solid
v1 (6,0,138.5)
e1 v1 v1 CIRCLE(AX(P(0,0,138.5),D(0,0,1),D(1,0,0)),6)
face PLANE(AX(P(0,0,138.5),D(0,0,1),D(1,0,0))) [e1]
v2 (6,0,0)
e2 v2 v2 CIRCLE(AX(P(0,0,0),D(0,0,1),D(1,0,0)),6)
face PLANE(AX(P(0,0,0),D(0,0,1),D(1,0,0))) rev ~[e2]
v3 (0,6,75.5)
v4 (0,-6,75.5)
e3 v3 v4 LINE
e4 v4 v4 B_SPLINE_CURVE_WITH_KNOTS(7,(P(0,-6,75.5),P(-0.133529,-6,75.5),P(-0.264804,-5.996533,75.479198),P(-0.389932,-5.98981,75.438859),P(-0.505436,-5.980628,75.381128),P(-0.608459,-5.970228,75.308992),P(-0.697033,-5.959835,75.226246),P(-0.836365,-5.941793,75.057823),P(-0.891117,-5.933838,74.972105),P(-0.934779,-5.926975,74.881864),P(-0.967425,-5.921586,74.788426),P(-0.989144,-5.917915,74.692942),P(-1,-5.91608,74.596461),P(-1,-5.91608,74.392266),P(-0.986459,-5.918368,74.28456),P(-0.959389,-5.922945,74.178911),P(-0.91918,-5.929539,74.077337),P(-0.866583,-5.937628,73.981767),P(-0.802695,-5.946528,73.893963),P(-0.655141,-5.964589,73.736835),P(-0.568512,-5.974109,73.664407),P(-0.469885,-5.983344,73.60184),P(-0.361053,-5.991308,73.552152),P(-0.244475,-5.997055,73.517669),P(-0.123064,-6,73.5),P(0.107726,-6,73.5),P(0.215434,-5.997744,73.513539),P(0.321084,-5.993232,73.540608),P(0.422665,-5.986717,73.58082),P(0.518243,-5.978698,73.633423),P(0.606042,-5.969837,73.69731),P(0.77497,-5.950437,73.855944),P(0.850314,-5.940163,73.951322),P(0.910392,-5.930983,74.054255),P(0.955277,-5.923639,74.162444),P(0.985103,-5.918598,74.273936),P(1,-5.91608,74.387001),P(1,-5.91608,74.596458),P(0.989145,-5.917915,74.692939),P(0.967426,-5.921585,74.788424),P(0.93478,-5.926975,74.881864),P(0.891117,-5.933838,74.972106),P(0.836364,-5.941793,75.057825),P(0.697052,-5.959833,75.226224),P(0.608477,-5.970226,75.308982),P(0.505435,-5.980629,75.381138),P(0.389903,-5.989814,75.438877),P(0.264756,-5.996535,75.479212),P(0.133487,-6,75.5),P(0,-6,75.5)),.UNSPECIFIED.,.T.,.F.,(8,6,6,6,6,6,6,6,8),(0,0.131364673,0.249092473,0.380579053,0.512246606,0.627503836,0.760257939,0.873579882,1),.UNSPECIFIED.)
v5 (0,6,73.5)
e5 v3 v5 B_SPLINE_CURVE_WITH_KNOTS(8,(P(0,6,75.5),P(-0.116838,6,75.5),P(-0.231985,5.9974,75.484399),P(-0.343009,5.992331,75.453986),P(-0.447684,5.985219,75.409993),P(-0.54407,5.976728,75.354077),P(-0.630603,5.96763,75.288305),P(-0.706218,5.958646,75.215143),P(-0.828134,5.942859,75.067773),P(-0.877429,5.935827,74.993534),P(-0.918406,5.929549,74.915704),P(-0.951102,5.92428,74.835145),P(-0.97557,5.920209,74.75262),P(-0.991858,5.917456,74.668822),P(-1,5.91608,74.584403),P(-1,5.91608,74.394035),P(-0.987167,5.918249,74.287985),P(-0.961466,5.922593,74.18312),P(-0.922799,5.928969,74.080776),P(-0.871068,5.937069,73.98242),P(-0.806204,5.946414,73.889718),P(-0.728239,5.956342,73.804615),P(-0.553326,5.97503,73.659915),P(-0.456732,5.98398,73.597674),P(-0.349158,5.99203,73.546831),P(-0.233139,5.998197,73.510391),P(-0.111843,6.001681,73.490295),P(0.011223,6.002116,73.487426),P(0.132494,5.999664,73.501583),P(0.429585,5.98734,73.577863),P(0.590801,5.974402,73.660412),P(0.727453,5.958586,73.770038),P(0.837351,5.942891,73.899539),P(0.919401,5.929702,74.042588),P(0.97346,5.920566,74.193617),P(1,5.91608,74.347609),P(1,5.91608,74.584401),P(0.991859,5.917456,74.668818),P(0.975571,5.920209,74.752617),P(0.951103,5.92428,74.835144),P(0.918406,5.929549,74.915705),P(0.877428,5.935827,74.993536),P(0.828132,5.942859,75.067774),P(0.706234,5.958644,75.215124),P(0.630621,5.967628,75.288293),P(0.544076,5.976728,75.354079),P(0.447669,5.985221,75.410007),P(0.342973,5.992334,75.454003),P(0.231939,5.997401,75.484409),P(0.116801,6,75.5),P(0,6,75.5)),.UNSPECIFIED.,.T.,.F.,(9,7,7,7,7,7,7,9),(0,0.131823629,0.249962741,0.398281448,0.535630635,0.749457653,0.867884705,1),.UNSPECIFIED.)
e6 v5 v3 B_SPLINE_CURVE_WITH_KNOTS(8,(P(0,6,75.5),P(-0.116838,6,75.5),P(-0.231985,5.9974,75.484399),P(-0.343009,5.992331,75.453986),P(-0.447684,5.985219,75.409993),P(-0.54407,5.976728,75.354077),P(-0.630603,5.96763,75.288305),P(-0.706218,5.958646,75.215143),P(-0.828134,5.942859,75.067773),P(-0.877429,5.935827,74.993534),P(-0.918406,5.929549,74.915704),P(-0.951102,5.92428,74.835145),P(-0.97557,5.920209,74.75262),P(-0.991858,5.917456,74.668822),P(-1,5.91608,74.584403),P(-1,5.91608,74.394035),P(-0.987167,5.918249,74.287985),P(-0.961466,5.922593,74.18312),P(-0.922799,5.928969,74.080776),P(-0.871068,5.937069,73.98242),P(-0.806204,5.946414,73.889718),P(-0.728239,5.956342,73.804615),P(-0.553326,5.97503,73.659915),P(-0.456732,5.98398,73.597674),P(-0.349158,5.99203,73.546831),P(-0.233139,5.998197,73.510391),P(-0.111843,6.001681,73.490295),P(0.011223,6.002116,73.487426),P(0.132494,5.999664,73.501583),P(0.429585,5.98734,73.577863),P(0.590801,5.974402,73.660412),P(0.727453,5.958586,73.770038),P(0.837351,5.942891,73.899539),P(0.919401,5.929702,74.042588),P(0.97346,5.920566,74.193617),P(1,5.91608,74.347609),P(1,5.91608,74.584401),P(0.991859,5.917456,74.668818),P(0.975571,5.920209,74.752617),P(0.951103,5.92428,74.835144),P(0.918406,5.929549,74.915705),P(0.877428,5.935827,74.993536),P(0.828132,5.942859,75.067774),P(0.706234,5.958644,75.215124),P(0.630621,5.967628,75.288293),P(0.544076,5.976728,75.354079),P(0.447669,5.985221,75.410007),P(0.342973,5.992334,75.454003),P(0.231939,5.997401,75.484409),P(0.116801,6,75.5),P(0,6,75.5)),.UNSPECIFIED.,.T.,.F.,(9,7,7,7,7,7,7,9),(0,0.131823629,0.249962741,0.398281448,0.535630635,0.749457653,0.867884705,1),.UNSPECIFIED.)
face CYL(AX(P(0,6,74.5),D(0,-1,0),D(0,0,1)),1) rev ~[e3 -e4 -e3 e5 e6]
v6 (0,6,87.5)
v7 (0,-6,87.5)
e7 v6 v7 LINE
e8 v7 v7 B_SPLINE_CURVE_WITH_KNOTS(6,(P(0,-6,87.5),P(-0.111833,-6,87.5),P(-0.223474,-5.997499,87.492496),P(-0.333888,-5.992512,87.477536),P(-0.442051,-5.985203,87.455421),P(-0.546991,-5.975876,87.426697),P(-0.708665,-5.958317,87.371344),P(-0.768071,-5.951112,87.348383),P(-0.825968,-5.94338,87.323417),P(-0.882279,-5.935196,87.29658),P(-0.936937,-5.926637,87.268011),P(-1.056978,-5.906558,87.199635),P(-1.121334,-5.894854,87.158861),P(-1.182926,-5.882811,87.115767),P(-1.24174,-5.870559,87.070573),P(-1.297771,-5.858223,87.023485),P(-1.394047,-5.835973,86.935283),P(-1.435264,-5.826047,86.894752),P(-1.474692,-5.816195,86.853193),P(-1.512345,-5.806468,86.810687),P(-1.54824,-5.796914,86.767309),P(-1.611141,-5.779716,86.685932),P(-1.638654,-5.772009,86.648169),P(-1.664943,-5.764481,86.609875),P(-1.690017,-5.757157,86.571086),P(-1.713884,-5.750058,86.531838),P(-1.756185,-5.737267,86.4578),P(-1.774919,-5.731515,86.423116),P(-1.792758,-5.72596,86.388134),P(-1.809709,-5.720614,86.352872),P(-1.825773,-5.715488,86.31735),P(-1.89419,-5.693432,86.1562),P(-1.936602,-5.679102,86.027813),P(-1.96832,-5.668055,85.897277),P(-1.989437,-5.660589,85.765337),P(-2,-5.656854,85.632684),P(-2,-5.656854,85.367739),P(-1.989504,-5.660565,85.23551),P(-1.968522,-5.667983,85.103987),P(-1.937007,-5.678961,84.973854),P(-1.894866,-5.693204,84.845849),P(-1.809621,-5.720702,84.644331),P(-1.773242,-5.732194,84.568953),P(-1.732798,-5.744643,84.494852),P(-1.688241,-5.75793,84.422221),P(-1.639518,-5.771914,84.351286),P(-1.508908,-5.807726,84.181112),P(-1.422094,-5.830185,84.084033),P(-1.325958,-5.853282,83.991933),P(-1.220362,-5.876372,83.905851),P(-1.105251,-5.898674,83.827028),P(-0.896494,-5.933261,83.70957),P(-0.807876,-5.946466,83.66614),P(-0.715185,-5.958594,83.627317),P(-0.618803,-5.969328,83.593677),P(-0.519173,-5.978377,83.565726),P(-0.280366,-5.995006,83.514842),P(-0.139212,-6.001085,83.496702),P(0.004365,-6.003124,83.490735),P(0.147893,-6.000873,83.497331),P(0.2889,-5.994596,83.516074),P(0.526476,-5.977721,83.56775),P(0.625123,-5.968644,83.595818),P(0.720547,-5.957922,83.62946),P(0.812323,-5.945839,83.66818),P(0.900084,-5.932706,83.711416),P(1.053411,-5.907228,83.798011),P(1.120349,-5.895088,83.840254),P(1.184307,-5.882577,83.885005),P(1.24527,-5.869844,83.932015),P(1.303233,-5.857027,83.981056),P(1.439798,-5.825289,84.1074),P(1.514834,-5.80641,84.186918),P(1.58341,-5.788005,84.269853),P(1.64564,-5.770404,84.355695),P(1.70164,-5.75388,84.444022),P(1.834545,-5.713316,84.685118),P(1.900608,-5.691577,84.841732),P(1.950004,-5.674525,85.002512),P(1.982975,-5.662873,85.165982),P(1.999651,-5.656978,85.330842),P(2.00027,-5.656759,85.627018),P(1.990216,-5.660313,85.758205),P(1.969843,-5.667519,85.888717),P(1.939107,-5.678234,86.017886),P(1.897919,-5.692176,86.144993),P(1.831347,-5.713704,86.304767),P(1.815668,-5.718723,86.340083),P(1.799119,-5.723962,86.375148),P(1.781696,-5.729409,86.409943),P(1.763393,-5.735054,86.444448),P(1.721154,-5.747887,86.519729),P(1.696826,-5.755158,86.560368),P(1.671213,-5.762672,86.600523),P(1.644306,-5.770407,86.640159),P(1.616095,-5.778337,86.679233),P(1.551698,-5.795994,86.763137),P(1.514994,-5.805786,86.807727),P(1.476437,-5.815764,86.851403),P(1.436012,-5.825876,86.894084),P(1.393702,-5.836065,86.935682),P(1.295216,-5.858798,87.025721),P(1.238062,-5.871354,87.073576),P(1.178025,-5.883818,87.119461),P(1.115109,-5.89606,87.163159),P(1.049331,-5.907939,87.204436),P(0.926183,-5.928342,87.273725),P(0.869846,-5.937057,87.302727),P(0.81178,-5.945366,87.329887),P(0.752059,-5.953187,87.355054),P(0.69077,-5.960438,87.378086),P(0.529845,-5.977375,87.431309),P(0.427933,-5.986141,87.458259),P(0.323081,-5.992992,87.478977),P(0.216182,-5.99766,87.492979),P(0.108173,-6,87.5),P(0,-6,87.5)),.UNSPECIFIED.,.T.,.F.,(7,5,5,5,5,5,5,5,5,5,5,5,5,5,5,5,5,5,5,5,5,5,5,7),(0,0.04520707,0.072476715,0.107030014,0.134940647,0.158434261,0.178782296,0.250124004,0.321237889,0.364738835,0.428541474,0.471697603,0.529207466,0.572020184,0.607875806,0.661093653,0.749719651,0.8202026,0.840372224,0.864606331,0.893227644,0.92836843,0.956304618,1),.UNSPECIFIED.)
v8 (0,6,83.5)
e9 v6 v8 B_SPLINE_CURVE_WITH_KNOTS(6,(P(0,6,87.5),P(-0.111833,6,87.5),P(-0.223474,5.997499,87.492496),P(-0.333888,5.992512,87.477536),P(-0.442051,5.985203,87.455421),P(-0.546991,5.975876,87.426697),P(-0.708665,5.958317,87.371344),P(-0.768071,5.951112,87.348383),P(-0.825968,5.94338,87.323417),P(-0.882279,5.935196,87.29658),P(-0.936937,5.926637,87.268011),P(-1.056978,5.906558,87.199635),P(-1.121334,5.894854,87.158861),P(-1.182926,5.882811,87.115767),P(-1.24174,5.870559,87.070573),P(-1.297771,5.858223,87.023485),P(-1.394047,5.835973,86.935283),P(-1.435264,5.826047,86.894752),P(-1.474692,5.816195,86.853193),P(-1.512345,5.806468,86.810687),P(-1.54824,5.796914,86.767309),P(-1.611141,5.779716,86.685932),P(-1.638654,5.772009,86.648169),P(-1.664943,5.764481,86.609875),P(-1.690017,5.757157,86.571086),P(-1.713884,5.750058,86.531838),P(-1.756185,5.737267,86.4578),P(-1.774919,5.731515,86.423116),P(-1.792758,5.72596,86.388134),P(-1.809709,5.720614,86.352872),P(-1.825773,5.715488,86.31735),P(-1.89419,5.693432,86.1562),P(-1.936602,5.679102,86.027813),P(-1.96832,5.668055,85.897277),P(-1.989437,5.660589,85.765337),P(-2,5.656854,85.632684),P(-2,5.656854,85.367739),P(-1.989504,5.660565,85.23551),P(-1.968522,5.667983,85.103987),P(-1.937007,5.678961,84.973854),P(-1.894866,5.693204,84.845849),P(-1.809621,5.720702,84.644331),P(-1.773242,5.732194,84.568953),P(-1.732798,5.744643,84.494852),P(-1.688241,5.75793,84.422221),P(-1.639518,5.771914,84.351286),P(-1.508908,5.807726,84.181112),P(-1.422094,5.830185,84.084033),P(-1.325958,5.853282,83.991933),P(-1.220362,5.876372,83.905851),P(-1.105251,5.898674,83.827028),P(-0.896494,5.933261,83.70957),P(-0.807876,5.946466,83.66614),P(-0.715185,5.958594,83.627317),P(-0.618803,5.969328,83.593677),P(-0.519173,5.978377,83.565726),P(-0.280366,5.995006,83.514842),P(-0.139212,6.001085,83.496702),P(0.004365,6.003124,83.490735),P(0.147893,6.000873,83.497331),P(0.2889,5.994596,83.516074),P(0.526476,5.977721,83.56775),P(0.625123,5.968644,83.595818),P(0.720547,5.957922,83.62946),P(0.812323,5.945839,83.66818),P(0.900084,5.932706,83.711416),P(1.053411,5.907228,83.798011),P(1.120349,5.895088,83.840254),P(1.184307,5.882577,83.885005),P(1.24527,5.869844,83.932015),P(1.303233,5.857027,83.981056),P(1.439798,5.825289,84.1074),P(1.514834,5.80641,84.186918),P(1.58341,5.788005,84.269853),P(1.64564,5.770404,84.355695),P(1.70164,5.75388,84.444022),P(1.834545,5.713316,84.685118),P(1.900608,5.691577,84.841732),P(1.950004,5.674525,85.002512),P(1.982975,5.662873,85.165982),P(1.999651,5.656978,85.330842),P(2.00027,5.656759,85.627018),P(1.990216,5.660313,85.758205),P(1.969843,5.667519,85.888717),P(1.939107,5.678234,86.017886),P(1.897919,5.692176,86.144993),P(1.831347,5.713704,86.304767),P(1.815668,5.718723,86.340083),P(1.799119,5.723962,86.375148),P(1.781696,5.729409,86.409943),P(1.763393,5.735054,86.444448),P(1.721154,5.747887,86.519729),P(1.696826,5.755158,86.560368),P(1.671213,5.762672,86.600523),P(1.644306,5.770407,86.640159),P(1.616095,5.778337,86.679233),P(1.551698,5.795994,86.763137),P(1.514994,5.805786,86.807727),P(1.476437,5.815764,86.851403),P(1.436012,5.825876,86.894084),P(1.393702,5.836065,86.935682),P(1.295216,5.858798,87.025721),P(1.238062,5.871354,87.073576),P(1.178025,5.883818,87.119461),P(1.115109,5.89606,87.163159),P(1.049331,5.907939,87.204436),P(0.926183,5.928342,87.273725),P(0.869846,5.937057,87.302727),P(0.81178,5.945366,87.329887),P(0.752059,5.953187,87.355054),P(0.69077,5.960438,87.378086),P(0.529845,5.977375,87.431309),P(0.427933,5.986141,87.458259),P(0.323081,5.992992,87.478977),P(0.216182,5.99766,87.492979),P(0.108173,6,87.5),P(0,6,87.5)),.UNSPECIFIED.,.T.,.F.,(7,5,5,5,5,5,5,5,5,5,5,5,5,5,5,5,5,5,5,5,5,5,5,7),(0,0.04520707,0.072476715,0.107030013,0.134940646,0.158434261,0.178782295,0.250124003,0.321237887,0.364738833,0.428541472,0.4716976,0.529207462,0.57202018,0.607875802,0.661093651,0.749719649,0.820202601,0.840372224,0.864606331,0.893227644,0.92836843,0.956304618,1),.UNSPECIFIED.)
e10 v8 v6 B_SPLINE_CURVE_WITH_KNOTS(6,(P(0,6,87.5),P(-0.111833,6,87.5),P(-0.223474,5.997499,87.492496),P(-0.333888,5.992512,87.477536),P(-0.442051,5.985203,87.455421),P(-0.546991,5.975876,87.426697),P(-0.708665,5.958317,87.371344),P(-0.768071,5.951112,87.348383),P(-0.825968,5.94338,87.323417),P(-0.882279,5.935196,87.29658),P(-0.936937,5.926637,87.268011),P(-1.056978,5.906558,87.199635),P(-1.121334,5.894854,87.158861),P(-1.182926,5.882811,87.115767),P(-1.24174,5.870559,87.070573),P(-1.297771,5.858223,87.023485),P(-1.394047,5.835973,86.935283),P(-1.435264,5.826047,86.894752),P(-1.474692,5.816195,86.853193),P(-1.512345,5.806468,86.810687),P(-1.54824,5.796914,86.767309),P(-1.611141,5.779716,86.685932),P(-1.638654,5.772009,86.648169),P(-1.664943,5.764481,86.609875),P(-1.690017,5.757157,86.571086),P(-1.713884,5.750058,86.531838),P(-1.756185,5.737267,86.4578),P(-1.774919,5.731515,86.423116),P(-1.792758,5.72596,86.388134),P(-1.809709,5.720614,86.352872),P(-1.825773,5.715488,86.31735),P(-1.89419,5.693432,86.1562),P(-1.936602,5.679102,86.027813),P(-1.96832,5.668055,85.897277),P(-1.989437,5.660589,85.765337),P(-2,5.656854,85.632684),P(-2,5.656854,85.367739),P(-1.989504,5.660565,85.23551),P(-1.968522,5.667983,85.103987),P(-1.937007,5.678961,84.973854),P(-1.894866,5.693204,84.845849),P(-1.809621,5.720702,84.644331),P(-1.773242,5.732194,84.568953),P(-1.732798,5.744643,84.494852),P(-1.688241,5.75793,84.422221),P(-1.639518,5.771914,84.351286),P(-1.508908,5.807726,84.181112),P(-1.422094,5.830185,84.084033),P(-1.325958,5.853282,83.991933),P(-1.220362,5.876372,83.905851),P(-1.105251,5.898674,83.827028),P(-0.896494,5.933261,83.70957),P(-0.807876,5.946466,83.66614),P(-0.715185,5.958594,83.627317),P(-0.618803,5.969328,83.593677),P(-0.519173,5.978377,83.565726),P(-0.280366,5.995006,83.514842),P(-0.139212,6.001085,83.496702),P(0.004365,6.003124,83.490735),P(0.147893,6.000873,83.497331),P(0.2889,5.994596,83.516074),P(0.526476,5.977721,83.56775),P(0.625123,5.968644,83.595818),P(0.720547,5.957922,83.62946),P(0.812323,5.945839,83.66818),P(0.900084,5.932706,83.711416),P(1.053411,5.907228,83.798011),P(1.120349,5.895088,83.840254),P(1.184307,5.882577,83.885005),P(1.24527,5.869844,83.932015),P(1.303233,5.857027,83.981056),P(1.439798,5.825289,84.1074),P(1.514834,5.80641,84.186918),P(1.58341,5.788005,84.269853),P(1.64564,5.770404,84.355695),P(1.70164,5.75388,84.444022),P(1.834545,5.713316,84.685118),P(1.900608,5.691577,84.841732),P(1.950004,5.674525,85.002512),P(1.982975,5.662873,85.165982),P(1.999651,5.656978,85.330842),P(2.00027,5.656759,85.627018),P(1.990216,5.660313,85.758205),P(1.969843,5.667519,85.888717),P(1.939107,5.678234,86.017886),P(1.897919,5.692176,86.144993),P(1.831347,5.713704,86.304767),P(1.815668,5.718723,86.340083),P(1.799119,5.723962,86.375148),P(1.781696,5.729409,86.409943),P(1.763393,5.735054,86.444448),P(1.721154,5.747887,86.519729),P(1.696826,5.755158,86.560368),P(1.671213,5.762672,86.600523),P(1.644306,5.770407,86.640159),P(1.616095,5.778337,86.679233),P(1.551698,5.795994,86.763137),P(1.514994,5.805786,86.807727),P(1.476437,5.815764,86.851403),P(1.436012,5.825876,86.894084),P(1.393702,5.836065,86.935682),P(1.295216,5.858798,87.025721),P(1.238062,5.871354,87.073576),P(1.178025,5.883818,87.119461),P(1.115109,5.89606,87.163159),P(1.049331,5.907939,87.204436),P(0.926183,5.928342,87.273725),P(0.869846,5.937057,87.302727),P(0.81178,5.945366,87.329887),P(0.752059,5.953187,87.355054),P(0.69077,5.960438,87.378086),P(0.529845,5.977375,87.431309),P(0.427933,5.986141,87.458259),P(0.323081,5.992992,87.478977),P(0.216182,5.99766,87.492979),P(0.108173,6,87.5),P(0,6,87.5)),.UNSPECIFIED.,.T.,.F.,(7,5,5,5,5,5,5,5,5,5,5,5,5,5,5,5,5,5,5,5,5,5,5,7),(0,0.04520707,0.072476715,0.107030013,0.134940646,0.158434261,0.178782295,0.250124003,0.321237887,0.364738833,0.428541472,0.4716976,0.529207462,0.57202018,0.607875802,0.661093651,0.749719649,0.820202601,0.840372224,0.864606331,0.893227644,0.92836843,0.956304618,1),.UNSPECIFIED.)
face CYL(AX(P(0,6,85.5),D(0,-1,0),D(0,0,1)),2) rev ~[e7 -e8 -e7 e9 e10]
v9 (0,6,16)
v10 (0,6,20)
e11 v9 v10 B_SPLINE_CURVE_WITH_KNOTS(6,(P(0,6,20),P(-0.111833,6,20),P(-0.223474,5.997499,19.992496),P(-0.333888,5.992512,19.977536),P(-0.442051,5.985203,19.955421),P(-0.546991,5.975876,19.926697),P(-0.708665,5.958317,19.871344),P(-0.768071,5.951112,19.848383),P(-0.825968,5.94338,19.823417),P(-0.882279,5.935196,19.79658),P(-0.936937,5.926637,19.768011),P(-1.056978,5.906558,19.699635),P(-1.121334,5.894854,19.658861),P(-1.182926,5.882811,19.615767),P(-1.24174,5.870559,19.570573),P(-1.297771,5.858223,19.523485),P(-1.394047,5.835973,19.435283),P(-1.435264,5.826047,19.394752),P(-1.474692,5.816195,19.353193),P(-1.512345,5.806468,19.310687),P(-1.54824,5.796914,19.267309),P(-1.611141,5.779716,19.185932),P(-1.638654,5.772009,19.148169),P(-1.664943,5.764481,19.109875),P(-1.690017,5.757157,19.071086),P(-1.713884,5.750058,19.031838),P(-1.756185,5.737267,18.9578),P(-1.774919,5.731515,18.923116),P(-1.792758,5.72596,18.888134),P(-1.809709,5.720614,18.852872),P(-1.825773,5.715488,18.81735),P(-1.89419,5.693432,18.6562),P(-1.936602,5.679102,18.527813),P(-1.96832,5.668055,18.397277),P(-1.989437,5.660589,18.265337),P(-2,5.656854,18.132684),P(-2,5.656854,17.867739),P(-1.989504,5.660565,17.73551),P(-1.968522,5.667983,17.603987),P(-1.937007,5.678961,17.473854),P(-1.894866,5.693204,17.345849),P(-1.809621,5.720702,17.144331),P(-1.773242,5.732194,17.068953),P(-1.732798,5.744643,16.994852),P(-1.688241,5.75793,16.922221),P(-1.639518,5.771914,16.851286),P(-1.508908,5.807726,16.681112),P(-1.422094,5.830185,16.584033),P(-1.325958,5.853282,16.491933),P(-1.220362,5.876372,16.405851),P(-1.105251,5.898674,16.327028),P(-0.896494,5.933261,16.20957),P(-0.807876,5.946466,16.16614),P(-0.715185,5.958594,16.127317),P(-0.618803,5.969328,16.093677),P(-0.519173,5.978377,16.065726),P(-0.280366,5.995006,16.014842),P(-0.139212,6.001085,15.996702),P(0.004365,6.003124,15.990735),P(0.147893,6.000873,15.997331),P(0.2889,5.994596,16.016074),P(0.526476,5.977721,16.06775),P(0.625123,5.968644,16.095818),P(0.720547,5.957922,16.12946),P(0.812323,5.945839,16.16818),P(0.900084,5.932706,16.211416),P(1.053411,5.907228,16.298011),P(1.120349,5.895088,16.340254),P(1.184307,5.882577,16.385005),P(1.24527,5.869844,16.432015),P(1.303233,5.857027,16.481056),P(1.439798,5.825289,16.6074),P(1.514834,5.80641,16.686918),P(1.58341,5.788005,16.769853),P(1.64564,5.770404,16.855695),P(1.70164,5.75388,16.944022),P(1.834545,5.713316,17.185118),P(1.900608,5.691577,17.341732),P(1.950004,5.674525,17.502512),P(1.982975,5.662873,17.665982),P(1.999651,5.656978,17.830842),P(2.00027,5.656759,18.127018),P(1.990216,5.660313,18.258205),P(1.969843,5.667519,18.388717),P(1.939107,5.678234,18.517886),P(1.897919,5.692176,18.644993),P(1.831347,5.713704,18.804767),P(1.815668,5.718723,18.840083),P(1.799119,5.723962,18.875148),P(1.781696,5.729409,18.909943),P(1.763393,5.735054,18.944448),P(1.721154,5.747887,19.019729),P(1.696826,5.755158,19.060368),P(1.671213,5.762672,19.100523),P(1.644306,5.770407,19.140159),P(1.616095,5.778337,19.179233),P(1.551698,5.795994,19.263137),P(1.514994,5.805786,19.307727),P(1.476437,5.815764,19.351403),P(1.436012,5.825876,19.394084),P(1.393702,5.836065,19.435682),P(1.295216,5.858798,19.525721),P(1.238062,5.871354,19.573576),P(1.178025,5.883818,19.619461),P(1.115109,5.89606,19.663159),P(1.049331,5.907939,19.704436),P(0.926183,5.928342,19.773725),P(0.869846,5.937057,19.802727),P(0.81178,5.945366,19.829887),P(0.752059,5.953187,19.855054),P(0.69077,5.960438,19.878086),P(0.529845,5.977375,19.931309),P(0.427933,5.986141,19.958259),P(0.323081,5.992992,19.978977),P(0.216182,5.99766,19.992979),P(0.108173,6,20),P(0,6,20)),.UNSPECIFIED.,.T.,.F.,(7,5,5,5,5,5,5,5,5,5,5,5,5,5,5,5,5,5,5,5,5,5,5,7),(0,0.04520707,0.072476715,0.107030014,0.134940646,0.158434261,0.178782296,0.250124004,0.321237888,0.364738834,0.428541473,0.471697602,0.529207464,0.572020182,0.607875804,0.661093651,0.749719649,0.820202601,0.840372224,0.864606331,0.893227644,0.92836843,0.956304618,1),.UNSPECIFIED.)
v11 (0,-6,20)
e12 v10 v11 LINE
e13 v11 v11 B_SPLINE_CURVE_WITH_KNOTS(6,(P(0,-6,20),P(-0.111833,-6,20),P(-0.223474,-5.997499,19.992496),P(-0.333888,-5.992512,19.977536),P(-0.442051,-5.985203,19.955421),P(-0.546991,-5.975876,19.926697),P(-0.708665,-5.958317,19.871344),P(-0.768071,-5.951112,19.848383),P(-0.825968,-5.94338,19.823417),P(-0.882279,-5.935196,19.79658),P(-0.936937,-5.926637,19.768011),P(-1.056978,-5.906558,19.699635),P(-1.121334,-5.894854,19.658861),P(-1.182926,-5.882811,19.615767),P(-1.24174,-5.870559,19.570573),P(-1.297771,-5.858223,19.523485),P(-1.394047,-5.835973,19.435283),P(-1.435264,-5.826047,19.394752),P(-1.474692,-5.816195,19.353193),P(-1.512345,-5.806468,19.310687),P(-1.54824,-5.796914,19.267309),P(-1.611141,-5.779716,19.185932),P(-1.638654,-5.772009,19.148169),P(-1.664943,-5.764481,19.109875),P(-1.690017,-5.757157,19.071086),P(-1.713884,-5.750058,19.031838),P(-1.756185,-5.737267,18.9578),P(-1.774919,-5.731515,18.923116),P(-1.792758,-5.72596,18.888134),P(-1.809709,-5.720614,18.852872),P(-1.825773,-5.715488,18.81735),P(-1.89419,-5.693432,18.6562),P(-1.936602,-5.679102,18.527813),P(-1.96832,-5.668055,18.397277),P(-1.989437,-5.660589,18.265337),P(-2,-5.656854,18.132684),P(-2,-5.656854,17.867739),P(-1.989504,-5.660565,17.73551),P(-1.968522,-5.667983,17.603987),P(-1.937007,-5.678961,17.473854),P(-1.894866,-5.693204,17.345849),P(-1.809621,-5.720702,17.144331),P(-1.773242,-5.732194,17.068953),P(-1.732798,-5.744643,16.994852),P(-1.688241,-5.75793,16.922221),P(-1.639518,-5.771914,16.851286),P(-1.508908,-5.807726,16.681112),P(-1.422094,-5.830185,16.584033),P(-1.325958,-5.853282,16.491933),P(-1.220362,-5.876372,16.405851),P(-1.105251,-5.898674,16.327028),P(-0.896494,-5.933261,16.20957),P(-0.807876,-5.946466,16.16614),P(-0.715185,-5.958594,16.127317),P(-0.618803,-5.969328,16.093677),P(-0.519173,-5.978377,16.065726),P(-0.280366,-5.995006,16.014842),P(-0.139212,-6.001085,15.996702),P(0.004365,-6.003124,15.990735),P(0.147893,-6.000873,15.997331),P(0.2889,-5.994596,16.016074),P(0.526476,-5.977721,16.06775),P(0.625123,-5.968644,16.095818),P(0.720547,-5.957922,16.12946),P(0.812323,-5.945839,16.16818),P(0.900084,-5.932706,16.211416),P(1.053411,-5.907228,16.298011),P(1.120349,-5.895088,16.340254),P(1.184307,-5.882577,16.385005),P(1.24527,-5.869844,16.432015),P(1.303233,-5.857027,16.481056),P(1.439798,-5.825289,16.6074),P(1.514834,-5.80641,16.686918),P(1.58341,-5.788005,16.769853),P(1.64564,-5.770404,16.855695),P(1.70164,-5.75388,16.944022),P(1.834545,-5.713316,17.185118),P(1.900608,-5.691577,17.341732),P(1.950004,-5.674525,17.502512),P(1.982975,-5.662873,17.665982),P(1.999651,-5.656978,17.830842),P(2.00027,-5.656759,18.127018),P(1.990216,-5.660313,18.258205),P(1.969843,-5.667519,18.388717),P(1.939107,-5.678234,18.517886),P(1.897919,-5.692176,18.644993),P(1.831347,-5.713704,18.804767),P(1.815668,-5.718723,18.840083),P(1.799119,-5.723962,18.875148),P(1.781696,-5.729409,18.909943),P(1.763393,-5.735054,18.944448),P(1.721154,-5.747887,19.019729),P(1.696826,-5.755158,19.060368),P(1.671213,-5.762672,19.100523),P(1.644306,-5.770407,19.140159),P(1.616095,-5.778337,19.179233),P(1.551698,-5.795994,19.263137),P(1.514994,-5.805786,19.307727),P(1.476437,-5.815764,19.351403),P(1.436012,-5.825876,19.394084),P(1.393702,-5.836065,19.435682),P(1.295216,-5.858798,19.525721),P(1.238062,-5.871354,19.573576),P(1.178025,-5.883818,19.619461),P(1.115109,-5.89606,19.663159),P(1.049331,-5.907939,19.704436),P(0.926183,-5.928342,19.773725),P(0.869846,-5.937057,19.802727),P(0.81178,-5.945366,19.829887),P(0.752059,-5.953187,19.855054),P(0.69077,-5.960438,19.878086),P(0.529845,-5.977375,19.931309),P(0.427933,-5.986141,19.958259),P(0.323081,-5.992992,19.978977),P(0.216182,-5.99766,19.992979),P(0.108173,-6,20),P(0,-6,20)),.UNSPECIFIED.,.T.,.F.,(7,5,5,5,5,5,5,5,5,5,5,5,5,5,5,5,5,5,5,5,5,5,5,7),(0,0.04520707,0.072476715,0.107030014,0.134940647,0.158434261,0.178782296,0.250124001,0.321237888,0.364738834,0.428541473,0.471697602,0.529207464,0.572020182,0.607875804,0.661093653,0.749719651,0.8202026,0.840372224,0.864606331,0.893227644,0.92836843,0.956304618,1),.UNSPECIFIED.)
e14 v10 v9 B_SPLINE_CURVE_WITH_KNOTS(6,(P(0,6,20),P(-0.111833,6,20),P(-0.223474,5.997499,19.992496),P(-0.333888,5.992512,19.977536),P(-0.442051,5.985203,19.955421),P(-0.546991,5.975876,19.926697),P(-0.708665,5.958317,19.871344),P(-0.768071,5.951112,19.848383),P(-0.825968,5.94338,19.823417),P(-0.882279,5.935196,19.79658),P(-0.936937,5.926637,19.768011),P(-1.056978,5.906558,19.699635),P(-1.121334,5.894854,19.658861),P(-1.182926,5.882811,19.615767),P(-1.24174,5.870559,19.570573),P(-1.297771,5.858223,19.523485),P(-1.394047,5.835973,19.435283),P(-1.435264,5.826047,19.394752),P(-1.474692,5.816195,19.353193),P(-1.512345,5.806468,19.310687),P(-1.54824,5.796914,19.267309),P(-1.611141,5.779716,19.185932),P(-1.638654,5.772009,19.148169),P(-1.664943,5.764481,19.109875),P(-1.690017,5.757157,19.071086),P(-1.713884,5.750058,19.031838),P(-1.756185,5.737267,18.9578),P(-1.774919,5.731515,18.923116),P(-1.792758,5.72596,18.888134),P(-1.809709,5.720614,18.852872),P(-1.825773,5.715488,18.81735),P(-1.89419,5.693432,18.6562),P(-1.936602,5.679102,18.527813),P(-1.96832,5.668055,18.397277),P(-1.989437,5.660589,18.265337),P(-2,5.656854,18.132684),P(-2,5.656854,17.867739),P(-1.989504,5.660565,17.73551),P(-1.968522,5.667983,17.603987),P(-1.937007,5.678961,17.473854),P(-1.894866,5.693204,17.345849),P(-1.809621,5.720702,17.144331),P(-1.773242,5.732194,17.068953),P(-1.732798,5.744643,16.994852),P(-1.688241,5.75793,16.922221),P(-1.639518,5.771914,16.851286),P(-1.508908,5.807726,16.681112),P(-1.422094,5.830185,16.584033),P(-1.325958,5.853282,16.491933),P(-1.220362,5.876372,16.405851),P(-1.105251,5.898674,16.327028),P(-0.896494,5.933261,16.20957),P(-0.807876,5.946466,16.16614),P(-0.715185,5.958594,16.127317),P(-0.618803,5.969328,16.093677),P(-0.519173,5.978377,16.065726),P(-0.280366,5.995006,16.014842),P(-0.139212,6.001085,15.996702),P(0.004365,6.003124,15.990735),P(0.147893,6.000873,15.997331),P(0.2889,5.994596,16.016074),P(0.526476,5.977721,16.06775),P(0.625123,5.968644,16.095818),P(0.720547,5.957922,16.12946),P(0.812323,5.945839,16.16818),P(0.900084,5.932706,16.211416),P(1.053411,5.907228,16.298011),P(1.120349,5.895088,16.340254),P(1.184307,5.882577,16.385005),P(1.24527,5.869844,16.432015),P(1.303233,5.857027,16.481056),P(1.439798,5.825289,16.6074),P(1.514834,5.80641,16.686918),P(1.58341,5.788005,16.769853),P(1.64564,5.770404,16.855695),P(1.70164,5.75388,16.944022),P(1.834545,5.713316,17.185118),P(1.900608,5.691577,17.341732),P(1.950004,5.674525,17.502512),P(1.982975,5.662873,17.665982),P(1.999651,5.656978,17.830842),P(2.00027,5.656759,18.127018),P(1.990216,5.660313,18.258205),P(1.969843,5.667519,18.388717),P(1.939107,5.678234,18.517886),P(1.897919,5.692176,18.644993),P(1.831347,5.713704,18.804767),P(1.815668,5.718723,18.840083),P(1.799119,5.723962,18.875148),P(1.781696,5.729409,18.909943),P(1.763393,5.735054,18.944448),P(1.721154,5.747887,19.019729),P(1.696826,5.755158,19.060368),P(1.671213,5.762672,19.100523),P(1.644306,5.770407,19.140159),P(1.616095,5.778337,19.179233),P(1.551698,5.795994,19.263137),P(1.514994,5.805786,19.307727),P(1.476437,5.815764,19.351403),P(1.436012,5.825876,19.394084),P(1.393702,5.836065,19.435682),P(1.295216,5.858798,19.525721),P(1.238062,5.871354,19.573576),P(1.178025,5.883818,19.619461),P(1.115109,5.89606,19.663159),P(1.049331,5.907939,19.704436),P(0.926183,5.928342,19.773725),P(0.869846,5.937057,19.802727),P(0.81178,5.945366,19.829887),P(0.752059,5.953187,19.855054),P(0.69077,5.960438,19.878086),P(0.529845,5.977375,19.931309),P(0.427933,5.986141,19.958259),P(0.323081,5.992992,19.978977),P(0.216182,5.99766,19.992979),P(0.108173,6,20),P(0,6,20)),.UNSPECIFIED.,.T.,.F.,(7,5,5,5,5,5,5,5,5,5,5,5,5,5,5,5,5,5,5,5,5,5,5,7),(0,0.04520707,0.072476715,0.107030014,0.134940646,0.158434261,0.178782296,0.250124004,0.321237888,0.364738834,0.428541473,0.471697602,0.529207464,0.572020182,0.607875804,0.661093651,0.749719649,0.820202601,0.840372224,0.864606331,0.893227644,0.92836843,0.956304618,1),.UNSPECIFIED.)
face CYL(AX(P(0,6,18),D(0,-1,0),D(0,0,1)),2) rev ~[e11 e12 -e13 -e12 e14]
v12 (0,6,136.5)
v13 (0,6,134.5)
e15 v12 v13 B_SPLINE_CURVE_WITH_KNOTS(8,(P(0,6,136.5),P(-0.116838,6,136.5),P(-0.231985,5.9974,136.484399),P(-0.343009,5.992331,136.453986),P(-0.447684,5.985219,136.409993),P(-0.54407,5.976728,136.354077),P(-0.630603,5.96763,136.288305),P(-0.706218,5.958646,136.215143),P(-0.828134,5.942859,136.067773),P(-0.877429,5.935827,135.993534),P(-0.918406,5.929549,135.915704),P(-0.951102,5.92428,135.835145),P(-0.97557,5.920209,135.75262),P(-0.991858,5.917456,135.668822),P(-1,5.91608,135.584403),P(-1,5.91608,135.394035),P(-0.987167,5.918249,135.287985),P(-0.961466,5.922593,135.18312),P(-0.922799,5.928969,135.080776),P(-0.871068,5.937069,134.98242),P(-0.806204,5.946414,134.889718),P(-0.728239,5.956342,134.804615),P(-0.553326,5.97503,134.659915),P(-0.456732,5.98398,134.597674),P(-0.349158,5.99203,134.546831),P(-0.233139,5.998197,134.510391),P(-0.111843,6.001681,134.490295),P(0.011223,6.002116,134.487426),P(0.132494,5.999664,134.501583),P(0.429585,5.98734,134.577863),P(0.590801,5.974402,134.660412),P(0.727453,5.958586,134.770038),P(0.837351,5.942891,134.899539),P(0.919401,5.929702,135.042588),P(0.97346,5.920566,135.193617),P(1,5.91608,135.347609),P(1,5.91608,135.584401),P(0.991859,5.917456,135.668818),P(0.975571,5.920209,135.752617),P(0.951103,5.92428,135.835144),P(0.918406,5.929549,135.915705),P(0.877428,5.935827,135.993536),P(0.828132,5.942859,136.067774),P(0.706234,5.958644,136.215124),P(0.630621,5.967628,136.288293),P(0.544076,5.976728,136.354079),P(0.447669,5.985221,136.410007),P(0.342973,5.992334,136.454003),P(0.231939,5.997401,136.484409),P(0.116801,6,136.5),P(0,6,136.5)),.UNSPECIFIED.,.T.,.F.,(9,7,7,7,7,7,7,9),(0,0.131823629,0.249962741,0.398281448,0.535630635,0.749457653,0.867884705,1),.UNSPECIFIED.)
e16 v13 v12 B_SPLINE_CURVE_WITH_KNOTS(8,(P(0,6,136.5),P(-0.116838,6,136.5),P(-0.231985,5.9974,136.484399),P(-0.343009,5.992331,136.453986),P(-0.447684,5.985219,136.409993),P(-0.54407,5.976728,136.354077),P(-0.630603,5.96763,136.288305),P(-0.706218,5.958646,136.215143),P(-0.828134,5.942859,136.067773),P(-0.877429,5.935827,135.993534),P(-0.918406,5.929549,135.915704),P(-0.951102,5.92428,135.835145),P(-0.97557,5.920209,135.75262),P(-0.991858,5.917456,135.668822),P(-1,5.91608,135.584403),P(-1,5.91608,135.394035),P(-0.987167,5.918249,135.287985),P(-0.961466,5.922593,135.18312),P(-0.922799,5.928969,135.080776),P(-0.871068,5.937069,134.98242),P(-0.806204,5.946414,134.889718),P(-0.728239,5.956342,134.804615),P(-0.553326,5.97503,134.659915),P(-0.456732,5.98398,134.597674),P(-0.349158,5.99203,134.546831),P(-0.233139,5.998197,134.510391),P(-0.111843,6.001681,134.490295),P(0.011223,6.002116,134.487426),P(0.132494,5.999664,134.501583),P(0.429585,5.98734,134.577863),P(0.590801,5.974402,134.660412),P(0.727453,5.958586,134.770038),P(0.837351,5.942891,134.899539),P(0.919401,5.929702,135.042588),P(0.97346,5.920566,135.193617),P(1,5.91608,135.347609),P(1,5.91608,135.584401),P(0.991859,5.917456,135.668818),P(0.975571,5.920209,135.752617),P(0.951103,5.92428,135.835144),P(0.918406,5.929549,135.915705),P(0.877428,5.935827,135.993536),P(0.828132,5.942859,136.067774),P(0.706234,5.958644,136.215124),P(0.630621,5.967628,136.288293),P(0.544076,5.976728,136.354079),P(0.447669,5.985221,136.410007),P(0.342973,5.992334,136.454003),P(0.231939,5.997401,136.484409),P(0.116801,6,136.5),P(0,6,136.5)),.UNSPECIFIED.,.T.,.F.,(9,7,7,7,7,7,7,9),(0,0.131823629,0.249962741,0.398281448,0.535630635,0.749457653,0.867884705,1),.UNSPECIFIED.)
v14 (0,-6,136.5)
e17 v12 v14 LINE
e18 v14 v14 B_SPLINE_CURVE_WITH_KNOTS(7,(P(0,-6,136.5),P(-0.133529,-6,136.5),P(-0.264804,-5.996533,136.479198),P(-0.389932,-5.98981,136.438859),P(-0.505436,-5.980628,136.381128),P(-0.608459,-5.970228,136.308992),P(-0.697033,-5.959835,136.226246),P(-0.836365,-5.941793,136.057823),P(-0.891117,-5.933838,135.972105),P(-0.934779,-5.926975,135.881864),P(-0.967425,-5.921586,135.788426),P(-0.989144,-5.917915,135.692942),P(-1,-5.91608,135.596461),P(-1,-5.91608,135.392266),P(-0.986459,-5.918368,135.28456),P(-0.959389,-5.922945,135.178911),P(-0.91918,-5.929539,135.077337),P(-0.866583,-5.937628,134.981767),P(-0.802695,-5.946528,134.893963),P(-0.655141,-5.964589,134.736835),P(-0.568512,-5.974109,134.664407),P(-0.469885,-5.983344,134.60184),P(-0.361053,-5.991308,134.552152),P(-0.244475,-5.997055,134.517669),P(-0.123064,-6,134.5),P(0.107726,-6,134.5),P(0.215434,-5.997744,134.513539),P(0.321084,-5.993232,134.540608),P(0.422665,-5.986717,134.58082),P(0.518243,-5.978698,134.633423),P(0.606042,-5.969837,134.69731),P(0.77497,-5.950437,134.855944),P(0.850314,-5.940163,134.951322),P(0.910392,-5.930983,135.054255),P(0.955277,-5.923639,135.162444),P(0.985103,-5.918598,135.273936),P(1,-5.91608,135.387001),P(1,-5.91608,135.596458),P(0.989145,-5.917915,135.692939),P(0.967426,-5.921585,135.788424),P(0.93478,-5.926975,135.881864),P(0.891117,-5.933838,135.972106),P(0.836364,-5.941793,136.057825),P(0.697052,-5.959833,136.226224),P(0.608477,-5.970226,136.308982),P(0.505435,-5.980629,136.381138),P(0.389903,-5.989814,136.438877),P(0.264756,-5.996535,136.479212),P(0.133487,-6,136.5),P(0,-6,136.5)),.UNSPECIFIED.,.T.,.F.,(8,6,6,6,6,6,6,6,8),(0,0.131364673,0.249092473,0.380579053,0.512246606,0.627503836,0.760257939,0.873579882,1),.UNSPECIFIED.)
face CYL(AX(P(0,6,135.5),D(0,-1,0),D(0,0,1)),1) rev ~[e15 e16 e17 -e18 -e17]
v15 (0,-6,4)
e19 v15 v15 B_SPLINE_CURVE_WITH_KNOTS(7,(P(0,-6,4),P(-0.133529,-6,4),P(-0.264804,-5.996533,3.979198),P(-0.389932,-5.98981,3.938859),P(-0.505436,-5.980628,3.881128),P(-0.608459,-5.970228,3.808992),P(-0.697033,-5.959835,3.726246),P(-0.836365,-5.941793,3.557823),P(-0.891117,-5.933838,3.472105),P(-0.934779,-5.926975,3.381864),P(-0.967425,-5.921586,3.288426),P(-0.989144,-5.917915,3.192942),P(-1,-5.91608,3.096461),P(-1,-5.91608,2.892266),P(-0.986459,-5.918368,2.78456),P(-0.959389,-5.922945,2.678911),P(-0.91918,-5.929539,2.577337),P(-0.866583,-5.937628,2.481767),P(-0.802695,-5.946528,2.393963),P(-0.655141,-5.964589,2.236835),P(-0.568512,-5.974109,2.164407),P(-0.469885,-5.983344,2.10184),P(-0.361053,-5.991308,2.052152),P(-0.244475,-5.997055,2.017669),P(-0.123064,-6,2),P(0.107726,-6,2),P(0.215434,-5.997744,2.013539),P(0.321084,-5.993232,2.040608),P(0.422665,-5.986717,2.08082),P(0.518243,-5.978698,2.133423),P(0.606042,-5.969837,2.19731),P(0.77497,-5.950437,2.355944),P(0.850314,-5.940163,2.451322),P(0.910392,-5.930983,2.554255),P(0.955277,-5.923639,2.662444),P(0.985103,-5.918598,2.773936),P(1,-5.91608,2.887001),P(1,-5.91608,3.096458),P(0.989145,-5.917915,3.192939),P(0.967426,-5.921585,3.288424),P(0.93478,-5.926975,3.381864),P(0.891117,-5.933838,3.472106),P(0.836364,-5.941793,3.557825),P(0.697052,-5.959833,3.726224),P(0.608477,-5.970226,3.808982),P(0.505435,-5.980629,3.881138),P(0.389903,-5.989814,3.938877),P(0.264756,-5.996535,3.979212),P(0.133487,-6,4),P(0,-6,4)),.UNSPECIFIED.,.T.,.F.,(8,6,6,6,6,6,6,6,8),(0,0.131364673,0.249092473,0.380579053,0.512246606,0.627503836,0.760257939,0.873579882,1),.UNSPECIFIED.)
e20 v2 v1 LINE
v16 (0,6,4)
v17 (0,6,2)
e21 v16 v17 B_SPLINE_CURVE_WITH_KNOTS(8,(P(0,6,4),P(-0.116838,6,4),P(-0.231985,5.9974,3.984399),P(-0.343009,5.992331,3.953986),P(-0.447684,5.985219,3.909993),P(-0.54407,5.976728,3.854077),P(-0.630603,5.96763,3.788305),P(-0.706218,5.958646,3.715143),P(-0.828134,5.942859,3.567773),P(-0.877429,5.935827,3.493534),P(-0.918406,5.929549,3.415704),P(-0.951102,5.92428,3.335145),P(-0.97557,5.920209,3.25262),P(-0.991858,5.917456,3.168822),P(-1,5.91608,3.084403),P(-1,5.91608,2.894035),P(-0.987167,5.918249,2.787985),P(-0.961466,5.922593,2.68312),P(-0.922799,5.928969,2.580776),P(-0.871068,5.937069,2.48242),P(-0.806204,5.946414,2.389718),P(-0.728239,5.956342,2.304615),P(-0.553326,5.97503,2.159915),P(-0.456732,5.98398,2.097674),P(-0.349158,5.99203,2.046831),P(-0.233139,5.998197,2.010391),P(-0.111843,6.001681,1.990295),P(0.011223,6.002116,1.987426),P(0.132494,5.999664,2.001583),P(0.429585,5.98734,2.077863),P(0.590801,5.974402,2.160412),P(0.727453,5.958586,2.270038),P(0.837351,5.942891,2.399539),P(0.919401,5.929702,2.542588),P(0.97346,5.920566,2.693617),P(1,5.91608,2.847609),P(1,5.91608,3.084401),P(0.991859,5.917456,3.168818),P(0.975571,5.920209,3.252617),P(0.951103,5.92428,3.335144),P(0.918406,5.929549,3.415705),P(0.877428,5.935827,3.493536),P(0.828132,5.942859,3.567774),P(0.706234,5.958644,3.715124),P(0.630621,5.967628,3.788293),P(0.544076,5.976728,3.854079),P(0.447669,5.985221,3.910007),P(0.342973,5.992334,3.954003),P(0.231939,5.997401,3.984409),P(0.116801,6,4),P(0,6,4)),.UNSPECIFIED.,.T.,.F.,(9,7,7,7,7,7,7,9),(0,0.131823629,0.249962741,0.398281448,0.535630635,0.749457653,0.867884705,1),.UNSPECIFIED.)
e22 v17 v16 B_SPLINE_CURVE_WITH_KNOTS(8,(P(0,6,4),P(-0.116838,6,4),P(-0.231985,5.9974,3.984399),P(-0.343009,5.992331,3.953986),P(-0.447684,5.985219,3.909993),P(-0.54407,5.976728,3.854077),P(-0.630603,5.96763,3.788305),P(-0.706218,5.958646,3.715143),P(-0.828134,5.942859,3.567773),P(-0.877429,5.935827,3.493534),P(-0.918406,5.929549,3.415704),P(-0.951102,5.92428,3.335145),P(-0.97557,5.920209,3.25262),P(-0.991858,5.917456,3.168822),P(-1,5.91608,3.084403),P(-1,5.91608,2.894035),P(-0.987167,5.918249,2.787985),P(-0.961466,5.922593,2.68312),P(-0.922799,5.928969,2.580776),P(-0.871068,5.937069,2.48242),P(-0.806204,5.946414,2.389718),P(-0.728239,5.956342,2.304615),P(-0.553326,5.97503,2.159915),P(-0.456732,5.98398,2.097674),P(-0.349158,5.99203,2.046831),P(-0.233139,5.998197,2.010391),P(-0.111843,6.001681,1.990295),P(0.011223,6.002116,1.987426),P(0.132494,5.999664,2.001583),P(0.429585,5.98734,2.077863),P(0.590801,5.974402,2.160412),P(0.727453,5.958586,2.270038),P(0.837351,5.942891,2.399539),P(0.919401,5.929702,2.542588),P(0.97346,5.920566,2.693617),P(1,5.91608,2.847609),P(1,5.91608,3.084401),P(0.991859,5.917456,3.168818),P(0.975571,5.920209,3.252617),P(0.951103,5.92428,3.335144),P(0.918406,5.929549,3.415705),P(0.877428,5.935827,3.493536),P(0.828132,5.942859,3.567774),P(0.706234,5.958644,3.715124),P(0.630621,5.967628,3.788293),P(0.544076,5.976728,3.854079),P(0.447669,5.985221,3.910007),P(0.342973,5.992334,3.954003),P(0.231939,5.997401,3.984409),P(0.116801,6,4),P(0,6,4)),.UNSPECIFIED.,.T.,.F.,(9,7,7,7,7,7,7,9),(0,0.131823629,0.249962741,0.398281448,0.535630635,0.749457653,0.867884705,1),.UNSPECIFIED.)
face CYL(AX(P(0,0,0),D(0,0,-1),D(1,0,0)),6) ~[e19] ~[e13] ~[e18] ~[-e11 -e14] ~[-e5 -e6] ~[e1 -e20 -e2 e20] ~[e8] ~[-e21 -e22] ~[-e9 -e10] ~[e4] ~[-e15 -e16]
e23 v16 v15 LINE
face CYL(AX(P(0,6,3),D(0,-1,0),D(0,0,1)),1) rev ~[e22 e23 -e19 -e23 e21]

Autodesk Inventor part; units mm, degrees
ref_plane "YZ Plane" through (0, 0, 0) normal (1, 0, 0) x (0, 1, 0)
ref_plane "XY Plane" through (0, 0, 0) normal (0, 0, 1) x (1, 0, 0)
sketch "スケッチ1" plane through (0, 0, 0) normal (0, 0, 1) x (1, 0, 0)
  circle A0 centre (0, 0) radius 6
  dimension "d0" = 12
extrude "押し出し1" add sketch "スケッチ1" along normal blind 138.5
ref_plane "作業平面1" through (0, 6, 0) normal (0, 1, 0) x (-1, 0, 0)
sketch "スケッチ2" plane through (0, 6, 0) normal (0, 1, 0) x (-1, 0, 0)
  line L0 (6, 0) -> (-6, 0) projected
  line L1 (6, 138.5) -> (-6, 138.5) projected
  point P0 (0, 0)
  point P1 (0, 3)
  point P2 (0, 18)
  point P3 (0, 135.5)
  point P4 (0, 85.5)
  point P5 (0, 74.5)
  dimension "d3" = 3
  dimension "d4" = 18
  dimension "d19" = 3
  dimension "d20" = 53
  dimension "d22" = 64
hole "穴1" at (0, 6, 3) at (0, 6, 135.5) at (0, 6, 74.5) direction (0, -1, 0) diameter 2 end through all
hole "穴2" at (0, 6, 18) at (0, 6, 85.5) direction (0, -1, 0) diameter 4 end through all
properties part number "TH22_Bar_roller_sn" material "アルミニウム 6061-AHC"
